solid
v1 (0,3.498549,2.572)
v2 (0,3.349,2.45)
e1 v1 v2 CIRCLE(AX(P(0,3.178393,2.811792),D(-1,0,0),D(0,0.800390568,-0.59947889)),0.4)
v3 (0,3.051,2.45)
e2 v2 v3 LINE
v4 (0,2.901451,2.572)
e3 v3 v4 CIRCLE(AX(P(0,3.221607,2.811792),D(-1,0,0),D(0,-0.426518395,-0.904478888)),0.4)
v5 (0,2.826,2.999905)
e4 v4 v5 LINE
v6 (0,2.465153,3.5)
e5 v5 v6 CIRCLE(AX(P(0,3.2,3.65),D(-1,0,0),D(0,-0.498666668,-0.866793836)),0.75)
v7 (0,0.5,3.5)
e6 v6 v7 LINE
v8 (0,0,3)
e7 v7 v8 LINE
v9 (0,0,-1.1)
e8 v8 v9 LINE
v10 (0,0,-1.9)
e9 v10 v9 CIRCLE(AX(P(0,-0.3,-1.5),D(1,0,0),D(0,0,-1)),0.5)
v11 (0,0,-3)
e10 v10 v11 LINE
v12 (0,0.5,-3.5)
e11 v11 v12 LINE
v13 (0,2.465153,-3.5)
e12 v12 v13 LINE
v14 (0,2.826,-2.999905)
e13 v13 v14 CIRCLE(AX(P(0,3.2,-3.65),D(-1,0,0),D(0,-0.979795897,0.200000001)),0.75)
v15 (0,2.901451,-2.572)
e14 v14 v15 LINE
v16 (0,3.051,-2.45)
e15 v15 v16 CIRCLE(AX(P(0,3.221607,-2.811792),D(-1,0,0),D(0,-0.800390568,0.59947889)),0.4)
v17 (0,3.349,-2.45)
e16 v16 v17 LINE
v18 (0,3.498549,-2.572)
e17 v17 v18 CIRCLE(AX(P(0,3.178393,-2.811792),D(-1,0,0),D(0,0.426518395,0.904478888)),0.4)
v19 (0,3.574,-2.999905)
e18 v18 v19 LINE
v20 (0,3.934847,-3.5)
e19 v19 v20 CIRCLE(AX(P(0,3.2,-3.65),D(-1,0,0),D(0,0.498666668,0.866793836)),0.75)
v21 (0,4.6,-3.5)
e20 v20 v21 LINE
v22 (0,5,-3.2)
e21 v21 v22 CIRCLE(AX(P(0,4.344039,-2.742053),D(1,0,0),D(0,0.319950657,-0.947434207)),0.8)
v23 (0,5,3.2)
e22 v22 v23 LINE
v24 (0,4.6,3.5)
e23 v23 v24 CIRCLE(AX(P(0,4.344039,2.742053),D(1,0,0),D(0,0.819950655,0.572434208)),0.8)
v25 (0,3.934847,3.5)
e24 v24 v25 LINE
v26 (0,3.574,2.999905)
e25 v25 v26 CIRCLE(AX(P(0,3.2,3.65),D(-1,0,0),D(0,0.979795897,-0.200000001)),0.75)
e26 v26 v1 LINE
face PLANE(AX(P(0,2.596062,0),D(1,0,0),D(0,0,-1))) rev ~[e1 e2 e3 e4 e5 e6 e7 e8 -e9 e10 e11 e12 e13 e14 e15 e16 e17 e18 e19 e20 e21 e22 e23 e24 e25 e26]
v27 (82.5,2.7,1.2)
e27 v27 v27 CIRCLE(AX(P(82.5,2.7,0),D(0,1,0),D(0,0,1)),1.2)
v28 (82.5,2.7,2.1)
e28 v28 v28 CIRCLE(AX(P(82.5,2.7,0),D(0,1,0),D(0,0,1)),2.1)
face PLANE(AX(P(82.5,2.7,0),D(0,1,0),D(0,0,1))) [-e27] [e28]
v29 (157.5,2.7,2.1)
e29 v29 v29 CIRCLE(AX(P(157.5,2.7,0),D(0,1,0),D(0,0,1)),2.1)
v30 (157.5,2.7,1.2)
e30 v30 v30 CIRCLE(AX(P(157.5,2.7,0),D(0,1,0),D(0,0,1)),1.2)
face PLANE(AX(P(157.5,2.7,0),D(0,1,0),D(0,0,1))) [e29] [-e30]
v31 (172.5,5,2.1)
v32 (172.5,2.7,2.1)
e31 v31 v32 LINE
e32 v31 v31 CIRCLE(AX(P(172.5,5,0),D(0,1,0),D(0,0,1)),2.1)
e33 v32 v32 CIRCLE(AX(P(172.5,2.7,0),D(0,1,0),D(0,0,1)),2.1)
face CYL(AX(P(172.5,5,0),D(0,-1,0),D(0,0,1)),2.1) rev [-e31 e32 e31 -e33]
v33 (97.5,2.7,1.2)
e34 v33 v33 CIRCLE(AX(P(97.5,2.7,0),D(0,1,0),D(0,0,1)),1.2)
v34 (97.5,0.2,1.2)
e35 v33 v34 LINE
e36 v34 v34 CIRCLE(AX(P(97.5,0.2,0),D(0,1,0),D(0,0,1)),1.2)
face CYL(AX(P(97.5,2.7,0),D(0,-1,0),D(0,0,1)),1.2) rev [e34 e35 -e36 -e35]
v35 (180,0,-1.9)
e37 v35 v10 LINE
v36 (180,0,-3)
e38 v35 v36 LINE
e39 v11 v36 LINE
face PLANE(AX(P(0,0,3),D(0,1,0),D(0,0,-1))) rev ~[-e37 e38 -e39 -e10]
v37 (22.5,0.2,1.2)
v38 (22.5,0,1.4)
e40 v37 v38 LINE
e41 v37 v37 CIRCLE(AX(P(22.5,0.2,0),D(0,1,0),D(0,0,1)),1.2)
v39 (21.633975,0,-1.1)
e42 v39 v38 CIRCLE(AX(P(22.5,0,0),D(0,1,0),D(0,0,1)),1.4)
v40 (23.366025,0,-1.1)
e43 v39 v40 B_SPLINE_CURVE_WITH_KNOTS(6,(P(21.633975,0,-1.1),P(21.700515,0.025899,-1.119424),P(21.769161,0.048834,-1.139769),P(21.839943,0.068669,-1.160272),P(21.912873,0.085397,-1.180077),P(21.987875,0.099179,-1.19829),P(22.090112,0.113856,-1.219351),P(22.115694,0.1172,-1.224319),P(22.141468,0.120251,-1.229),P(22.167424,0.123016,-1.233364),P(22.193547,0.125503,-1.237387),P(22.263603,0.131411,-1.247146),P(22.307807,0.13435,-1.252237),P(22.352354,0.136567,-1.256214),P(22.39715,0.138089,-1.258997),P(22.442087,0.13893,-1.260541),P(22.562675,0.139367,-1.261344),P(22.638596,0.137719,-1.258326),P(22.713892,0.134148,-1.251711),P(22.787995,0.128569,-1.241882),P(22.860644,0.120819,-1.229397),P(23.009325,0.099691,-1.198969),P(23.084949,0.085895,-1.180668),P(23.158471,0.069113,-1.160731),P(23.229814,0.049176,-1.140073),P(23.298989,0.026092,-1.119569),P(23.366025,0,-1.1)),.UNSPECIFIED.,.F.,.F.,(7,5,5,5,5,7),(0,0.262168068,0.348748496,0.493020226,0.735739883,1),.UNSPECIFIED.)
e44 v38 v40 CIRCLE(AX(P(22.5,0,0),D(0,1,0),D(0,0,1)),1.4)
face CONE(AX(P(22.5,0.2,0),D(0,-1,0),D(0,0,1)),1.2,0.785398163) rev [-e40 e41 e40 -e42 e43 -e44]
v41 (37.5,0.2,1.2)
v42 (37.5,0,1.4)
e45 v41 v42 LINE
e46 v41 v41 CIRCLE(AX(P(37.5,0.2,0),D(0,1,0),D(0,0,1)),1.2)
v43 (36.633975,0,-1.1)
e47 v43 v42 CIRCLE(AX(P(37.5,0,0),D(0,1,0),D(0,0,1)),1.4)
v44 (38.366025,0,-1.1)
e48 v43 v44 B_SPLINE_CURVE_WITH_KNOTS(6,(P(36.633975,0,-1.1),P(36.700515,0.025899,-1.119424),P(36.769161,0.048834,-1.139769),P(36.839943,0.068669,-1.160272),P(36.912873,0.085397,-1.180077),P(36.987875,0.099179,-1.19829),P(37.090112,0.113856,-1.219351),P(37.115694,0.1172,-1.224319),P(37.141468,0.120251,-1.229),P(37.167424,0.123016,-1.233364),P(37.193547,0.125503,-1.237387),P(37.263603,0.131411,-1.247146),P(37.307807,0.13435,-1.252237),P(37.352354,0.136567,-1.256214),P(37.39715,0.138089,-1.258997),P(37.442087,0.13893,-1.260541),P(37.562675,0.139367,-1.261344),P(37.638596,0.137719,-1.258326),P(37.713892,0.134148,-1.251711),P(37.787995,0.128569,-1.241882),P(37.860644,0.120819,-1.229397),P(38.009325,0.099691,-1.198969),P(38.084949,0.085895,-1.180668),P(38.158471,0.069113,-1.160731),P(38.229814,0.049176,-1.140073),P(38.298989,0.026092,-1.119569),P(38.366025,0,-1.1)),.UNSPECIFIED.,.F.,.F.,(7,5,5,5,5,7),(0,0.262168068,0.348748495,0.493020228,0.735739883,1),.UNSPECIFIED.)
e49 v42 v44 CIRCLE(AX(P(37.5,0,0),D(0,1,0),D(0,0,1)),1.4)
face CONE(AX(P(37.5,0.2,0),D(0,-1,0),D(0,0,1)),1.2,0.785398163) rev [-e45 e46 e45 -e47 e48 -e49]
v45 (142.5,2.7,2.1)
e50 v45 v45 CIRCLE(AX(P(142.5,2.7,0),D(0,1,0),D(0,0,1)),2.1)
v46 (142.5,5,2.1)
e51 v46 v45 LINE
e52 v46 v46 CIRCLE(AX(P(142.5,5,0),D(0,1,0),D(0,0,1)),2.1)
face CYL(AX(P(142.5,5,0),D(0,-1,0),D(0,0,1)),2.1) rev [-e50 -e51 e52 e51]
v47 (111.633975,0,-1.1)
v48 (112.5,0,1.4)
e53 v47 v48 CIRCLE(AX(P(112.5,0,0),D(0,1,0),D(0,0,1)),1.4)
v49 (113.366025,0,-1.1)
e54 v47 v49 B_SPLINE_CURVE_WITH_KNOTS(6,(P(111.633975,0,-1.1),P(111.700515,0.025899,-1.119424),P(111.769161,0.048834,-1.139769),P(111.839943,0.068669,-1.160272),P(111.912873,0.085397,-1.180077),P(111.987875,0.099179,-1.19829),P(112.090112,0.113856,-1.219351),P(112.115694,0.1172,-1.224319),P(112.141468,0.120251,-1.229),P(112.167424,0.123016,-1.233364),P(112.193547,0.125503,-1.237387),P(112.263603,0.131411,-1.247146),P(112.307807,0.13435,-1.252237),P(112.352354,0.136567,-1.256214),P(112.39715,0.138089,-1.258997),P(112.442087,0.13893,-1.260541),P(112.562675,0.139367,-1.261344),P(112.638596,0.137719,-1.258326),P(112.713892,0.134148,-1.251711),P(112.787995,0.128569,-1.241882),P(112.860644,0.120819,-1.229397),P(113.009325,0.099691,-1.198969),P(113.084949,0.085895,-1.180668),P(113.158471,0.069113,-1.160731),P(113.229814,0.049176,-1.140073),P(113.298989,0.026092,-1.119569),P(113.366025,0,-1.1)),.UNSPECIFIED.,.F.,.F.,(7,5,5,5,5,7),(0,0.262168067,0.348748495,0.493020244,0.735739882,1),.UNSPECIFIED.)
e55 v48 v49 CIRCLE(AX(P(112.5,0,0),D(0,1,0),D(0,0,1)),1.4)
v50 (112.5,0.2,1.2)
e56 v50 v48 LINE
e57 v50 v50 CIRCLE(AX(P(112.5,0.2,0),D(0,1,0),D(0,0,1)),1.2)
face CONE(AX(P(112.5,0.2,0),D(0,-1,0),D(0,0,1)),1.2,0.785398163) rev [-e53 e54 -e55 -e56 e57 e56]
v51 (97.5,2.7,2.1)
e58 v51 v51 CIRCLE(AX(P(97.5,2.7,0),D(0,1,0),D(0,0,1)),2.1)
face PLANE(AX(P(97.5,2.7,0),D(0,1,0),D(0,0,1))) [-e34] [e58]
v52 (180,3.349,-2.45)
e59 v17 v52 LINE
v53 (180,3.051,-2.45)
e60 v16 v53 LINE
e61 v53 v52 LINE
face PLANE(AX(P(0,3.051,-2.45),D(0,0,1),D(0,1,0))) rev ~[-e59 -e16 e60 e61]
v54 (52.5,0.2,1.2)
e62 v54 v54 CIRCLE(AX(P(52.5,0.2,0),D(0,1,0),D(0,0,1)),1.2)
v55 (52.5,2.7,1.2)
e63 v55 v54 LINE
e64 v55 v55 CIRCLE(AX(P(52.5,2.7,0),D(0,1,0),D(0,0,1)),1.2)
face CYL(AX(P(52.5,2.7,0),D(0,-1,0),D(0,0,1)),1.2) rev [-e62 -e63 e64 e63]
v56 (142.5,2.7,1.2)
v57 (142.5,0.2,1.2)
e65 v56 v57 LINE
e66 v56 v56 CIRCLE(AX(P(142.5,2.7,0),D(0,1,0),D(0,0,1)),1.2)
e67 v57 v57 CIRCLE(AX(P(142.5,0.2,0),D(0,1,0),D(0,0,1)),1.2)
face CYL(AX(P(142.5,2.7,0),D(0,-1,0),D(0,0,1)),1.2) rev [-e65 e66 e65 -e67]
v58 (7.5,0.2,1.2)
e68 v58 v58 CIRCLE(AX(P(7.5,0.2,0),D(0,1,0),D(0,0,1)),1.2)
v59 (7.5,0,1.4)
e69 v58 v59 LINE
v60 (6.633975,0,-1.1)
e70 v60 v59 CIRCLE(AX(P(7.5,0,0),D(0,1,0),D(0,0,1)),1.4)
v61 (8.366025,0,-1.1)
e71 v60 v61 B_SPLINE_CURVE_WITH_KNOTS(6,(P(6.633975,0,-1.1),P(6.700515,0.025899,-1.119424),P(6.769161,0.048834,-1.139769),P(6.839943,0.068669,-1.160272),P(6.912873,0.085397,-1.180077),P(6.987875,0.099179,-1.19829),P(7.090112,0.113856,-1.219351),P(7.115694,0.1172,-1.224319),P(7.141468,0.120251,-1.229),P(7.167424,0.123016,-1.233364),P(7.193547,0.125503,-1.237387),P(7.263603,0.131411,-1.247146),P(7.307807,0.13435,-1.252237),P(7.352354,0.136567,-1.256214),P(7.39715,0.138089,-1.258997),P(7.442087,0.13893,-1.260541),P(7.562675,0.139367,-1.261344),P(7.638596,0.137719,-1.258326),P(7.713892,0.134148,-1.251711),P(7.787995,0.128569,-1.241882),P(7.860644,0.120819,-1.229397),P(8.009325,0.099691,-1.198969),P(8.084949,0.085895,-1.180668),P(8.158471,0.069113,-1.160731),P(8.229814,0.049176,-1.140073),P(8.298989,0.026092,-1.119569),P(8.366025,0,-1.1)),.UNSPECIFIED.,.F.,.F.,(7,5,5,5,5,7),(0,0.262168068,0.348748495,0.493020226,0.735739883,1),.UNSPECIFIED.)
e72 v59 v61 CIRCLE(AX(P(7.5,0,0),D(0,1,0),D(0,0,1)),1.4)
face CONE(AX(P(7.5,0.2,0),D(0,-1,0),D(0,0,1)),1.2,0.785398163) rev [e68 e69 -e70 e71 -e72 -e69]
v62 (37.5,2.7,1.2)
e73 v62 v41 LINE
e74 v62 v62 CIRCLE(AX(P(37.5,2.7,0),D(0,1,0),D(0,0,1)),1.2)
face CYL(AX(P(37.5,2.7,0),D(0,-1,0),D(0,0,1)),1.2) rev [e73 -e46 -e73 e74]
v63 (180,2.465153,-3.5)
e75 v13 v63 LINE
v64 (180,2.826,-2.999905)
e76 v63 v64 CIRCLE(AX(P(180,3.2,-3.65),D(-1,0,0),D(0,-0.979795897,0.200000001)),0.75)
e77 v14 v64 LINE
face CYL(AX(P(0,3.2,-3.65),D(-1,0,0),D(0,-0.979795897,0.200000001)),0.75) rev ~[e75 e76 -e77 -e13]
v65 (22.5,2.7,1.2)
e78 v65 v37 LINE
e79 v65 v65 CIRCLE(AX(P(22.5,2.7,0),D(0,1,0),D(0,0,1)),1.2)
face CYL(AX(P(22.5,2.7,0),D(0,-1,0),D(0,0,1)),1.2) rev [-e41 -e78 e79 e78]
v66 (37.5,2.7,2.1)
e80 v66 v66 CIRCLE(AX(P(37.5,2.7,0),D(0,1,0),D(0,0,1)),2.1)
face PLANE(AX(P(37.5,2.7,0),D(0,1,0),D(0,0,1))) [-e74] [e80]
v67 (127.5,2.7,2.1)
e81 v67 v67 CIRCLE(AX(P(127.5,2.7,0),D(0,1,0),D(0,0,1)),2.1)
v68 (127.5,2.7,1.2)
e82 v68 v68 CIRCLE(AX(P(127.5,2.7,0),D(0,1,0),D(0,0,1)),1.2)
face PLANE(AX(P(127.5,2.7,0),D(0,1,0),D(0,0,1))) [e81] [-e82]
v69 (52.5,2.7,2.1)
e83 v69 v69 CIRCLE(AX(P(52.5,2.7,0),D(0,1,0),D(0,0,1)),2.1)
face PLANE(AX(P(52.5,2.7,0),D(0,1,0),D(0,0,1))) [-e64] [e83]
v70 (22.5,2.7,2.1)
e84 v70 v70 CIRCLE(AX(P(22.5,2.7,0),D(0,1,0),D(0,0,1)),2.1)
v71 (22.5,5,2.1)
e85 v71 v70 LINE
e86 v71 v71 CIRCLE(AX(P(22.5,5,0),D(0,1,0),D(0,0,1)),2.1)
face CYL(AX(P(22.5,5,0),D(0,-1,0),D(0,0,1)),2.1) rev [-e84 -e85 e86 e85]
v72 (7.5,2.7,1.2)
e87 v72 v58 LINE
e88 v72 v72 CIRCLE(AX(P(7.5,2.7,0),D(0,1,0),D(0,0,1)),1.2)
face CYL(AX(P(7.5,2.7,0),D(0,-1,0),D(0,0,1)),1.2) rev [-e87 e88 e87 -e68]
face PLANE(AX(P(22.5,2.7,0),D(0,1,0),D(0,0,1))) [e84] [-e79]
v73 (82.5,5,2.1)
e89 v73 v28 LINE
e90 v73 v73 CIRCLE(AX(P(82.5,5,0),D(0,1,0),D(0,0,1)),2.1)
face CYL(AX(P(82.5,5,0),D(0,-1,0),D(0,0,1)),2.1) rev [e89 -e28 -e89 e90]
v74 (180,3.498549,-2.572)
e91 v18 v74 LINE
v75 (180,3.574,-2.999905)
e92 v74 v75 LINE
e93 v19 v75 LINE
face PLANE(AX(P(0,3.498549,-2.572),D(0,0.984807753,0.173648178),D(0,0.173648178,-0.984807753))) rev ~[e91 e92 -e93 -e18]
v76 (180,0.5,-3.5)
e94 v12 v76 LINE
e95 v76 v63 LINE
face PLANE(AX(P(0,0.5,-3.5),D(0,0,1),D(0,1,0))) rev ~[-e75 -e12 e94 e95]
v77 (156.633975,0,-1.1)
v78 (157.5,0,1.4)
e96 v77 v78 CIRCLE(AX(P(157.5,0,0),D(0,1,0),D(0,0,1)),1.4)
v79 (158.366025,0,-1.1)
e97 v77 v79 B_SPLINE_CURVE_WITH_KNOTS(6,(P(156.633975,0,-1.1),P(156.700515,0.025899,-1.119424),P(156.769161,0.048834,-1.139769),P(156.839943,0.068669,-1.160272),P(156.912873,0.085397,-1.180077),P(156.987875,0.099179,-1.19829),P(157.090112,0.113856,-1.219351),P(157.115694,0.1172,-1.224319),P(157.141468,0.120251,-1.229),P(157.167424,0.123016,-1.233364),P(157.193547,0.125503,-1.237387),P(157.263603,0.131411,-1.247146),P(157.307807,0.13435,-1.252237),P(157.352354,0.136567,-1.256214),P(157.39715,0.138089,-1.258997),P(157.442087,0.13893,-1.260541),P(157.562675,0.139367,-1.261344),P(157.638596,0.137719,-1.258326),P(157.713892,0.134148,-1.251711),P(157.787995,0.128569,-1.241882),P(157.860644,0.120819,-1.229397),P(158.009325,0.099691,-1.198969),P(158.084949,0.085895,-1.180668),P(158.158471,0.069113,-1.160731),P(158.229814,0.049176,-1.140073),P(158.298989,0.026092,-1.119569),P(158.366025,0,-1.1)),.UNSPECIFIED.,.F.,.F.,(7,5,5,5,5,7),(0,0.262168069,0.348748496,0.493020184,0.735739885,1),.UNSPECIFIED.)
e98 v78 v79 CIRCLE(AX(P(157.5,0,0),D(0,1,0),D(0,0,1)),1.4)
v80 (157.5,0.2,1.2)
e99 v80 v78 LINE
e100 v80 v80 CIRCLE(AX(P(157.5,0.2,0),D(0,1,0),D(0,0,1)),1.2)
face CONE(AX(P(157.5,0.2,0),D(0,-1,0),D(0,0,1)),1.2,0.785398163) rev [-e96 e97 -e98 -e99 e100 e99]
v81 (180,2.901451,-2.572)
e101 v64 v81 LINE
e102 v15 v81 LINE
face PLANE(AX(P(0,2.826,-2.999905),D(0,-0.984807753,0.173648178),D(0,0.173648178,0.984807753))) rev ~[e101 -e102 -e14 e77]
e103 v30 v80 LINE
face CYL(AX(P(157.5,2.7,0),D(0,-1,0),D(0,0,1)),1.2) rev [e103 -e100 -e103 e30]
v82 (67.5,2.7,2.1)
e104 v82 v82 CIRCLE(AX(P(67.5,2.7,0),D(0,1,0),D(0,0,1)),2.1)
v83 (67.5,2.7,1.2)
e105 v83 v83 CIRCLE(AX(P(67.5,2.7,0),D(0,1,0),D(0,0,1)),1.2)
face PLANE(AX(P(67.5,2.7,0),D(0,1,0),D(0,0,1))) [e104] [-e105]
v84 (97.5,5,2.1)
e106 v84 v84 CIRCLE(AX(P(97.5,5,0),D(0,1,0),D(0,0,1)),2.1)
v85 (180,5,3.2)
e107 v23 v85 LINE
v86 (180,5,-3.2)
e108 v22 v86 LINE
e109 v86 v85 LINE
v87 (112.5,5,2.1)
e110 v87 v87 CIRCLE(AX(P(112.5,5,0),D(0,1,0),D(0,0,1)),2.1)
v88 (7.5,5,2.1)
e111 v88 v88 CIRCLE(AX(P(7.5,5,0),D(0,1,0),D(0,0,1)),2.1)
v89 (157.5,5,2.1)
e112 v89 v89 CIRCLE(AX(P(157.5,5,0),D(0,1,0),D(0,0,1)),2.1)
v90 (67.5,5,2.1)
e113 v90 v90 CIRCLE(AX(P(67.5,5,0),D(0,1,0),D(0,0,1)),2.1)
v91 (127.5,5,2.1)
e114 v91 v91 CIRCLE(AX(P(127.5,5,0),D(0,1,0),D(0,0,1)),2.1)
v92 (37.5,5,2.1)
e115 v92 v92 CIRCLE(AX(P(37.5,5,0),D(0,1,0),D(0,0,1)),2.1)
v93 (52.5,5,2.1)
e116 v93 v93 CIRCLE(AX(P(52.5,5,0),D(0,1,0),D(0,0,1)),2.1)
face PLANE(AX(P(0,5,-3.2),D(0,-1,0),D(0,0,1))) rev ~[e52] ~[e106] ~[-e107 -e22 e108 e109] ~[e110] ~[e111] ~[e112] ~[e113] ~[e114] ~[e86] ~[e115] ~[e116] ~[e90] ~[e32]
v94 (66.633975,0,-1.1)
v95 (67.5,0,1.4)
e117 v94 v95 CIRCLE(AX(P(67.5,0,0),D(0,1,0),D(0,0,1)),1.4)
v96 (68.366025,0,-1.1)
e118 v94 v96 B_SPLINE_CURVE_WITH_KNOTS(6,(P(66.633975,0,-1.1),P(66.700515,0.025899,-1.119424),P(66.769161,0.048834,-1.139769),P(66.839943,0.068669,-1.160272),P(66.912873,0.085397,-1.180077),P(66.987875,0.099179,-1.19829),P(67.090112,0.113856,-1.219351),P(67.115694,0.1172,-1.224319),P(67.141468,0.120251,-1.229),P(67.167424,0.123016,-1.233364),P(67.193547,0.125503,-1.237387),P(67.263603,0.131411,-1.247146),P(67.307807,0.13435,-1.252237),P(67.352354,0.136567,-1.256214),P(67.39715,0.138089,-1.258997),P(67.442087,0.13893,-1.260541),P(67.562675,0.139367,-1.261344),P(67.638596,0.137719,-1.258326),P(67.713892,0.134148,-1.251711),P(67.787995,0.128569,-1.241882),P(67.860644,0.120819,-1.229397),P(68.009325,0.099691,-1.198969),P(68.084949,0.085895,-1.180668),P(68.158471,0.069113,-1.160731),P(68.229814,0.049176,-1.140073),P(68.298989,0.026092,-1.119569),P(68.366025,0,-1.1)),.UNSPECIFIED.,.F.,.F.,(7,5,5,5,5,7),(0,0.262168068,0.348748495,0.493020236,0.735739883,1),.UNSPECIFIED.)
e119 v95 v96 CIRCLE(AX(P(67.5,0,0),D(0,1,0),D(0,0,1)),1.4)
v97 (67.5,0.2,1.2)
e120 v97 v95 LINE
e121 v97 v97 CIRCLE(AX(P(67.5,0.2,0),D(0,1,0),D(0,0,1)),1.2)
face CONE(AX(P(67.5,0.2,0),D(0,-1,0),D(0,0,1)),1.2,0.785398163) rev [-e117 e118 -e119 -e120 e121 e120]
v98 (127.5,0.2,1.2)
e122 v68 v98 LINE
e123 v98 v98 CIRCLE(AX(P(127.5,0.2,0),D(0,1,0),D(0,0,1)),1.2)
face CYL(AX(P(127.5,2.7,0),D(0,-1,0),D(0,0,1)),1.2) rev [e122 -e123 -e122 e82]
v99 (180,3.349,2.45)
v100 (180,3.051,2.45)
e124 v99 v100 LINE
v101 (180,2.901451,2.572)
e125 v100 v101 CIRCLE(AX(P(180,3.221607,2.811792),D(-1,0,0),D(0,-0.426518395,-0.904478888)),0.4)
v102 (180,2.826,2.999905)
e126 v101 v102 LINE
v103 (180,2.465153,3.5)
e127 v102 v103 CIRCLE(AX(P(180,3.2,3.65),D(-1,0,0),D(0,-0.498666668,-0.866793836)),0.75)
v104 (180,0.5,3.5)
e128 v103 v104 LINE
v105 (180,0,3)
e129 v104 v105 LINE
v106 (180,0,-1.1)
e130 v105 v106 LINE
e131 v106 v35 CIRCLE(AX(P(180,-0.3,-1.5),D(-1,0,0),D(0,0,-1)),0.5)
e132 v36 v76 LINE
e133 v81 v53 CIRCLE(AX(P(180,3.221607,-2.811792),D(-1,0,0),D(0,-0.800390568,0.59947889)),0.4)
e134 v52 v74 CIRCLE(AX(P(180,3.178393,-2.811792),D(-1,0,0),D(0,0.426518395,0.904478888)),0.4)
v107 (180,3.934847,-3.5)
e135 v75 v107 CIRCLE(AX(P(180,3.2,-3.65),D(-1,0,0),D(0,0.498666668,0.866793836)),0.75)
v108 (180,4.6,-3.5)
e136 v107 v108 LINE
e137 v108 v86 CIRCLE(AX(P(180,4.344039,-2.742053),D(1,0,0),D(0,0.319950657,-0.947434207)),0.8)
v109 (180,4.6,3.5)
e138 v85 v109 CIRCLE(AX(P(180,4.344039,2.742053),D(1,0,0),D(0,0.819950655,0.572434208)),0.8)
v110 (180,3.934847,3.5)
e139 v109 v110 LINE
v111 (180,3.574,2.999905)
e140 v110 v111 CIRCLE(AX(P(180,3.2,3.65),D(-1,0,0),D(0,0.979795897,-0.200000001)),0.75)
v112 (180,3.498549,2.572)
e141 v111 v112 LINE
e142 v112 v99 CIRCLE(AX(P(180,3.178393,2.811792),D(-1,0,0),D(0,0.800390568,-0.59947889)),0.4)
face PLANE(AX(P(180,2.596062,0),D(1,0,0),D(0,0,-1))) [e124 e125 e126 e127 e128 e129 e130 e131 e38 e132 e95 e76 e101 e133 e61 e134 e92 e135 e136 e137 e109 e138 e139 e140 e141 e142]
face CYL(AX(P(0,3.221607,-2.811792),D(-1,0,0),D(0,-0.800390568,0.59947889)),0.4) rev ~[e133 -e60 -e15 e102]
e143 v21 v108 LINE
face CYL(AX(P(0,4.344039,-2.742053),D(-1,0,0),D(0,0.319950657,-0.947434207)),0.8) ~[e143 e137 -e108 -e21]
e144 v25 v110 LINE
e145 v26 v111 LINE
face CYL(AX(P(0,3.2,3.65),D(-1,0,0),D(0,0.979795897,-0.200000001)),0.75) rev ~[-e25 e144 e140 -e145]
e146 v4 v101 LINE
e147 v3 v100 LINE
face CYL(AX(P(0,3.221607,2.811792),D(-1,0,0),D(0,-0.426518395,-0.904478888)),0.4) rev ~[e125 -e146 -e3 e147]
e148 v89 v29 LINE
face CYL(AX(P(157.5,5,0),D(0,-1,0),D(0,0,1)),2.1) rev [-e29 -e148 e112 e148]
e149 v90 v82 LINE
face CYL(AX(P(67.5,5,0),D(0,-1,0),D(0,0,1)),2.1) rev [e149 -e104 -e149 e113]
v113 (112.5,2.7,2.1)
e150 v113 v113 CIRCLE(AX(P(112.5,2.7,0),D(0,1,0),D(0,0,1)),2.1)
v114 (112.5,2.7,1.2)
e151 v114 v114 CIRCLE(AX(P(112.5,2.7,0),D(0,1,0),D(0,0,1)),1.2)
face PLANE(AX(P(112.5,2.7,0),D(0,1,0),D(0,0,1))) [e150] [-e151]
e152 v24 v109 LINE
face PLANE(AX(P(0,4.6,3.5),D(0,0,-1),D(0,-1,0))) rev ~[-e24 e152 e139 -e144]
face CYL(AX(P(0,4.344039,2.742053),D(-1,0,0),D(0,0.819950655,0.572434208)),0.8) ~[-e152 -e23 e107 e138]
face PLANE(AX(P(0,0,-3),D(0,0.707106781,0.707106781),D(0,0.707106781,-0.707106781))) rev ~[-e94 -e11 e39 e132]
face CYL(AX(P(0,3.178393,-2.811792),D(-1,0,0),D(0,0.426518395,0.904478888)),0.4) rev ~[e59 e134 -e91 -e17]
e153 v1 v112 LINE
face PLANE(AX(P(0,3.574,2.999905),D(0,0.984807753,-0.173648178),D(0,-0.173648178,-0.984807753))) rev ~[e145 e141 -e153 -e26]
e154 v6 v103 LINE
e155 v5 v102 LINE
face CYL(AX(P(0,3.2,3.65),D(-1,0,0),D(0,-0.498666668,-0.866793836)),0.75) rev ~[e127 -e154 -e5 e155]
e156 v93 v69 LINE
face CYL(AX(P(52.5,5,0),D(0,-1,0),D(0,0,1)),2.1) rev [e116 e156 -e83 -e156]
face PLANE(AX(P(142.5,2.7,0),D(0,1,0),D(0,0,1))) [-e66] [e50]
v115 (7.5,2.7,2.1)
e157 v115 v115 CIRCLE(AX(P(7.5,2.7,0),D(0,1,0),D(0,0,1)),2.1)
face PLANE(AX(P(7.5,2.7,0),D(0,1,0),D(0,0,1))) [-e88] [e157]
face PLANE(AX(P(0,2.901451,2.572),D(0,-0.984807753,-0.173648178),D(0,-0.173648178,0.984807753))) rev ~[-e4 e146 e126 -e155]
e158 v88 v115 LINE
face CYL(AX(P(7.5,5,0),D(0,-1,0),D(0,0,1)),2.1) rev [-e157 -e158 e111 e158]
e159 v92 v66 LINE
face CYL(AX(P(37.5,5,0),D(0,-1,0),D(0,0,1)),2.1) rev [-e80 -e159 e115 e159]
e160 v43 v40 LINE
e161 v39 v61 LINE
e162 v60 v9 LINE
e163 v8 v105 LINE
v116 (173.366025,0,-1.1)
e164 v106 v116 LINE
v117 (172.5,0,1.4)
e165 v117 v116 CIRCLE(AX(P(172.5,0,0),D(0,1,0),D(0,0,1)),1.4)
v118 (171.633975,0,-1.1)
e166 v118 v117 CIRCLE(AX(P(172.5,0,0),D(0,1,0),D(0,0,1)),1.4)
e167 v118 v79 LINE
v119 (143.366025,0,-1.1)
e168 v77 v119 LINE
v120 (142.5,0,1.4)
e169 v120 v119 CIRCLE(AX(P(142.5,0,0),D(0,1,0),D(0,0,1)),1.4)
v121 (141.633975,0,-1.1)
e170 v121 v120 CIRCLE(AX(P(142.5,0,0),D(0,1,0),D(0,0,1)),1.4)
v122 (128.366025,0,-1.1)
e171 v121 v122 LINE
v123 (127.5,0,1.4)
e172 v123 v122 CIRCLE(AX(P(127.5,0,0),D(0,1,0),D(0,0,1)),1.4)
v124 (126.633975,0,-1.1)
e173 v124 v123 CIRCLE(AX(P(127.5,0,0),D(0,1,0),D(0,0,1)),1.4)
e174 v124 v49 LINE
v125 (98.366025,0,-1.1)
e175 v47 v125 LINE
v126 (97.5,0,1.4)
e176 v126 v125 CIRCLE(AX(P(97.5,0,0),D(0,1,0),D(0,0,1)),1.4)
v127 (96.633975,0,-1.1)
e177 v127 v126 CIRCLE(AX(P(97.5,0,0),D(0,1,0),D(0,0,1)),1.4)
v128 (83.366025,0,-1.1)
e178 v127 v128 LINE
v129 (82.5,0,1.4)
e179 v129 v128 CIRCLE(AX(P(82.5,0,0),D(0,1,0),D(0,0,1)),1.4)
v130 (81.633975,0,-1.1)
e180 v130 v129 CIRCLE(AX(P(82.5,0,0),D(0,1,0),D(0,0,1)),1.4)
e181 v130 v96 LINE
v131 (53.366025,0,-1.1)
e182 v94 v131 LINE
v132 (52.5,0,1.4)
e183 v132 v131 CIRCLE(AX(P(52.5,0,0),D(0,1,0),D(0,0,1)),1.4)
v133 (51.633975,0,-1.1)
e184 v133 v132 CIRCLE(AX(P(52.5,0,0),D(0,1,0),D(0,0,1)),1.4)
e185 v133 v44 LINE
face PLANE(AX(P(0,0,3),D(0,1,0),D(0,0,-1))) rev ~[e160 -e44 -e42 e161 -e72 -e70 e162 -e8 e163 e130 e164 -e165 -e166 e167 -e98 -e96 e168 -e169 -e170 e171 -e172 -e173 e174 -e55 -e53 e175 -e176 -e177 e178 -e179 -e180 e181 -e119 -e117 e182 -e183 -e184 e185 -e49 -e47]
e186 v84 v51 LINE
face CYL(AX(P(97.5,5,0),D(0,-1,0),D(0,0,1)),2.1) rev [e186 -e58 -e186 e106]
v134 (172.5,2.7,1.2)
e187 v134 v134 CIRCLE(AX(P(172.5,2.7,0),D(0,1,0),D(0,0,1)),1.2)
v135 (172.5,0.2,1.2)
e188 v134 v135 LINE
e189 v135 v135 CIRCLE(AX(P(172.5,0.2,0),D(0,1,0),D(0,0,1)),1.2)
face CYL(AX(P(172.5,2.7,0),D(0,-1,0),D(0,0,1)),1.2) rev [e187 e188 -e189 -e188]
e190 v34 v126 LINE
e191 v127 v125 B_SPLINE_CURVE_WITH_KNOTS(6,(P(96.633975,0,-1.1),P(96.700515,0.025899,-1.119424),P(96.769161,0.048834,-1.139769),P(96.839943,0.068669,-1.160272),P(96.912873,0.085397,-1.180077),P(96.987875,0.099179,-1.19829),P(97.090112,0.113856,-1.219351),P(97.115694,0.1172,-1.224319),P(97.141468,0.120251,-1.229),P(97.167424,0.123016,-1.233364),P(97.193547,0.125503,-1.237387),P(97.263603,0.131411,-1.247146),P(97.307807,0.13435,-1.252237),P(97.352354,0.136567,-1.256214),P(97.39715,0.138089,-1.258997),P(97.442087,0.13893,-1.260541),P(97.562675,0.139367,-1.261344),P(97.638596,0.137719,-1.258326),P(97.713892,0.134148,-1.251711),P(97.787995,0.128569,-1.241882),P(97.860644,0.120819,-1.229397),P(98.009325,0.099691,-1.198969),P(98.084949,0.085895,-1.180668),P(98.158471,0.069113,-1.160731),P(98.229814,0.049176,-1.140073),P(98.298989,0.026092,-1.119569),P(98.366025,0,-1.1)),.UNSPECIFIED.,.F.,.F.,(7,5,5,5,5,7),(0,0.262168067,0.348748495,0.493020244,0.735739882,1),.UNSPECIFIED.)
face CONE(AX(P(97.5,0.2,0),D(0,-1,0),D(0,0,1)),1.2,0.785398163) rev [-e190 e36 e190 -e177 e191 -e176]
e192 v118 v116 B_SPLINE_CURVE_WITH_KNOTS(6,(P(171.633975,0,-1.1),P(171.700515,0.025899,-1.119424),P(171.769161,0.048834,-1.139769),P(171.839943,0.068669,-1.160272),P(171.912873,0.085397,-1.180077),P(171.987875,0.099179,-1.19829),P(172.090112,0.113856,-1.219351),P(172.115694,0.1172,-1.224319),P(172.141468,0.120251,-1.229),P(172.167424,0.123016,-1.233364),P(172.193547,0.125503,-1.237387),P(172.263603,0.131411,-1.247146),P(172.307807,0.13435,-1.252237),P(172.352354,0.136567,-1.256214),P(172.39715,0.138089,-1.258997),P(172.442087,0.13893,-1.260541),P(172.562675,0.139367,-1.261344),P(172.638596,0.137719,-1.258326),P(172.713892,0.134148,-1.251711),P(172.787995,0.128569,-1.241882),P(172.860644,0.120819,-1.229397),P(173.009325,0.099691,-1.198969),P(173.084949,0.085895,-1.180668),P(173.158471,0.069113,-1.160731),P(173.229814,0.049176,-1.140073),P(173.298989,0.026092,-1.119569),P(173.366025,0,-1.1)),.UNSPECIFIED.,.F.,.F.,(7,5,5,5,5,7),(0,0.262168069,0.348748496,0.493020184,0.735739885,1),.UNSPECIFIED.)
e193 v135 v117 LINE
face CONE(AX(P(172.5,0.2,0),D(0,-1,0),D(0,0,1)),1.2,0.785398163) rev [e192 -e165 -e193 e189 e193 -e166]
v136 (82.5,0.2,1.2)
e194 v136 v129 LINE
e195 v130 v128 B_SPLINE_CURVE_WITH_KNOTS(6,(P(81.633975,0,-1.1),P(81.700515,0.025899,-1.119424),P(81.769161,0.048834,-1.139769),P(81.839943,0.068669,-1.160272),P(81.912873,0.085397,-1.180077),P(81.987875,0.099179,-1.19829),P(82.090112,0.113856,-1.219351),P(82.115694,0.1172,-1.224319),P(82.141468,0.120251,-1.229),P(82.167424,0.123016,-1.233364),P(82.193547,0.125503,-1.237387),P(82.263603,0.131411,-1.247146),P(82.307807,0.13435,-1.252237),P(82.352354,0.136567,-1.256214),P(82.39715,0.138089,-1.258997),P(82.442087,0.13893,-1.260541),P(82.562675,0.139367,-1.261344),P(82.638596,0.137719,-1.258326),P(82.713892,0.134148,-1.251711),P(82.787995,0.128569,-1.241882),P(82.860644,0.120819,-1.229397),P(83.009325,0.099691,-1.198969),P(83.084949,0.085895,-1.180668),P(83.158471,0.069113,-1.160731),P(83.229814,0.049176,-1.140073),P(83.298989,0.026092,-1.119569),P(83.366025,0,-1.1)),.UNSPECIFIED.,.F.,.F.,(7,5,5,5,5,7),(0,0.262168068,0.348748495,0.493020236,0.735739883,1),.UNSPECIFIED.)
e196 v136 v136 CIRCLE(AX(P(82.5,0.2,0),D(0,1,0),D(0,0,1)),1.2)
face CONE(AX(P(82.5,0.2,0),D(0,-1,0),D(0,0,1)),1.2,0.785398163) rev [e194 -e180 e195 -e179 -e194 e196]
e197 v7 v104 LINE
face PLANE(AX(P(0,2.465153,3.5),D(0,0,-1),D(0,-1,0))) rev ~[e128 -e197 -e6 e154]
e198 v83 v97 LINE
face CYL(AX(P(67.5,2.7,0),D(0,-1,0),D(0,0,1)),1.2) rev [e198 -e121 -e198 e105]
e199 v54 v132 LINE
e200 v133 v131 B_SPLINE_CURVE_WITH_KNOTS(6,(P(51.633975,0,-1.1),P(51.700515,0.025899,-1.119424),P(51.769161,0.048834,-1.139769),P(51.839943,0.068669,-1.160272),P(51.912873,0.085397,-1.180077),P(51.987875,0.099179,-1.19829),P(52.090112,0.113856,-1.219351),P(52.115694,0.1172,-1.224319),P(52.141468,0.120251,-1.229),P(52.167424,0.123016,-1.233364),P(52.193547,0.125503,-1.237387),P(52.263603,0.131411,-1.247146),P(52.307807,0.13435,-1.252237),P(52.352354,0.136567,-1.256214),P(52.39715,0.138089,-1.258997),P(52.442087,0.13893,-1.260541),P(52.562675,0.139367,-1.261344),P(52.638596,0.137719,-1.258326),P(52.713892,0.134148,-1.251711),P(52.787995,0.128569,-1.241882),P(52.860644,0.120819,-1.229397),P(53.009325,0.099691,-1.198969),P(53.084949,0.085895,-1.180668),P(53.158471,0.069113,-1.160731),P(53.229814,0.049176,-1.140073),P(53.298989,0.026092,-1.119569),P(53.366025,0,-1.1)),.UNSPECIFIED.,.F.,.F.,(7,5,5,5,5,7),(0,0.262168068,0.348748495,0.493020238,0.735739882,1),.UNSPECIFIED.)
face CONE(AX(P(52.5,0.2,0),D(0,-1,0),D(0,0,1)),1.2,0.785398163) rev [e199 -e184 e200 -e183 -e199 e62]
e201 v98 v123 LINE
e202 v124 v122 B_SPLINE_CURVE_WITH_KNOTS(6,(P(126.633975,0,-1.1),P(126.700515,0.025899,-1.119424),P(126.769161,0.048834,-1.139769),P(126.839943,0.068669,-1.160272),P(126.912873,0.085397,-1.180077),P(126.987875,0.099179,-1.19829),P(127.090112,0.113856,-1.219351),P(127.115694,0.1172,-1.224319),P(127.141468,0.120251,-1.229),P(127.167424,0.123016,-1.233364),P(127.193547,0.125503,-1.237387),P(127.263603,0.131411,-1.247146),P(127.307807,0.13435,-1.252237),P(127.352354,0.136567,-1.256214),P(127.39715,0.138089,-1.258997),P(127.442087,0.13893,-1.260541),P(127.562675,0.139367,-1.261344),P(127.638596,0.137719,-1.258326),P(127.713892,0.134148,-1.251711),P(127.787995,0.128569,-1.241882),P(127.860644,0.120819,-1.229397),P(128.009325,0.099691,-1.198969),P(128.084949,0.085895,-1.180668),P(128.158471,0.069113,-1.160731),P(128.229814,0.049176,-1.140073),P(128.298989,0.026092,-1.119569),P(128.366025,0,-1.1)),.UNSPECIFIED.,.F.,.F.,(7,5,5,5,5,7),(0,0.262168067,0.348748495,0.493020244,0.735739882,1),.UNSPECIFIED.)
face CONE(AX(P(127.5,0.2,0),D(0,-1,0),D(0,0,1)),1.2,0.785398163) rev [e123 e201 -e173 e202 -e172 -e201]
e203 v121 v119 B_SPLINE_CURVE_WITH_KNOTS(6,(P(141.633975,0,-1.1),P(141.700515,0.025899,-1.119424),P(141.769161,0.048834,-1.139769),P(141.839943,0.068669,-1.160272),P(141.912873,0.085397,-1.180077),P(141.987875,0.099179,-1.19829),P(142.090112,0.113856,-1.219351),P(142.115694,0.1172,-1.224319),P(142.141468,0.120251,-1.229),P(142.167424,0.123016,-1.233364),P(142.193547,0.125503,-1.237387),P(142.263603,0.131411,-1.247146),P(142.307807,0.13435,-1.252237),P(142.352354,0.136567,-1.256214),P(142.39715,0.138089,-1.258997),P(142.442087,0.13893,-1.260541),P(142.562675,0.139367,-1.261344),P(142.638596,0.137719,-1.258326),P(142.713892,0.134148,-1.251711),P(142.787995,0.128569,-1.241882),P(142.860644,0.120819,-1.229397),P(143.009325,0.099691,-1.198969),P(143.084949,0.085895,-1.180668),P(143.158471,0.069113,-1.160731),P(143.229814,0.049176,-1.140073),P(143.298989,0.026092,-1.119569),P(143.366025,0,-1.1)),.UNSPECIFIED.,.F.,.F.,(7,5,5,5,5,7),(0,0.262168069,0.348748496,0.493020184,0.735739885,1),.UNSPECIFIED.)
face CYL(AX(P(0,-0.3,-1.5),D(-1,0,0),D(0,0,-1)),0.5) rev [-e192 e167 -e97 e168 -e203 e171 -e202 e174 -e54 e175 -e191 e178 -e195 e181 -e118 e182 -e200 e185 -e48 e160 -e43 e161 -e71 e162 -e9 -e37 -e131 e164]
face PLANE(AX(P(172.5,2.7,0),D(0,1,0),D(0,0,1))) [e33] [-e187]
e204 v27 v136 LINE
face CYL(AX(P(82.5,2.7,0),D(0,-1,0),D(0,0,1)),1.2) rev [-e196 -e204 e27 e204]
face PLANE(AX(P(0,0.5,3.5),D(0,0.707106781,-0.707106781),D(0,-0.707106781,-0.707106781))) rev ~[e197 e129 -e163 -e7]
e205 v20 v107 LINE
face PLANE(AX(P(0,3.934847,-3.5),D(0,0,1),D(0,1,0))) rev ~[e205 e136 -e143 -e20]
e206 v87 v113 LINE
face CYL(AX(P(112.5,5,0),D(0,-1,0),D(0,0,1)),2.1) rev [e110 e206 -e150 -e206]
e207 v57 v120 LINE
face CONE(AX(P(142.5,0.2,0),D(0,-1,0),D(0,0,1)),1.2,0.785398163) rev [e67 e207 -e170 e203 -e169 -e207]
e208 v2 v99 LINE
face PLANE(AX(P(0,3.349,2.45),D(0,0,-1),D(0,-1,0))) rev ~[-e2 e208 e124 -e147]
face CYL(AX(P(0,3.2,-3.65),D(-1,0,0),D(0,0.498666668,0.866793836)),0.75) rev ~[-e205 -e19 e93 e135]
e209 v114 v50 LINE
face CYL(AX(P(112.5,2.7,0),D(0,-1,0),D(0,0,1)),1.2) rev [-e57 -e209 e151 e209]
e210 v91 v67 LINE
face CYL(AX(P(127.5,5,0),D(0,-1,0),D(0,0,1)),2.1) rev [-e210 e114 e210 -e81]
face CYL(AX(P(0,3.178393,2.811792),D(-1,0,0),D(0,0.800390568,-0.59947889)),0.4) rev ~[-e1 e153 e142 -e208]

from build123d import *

# Parameters (mm, degrees)
EXTRUDE1_DEPTH  = 180
SKETCH6_R       = 0.5
EXTRUDE2_DEPTH  = 181.103442499
LPATTERN1_COUNT = 11
LPATTERN1_PITCH = 15


with BuildPart() as part:
    # Sketch1 → Extrude1 (new body)
    with BuildSketch(Plane(origin=(0, 0, 0), x_dir=(0, 0, -1), z_dir=(1, 0, 0))):
        with BuildLine():
            Line((-3.5, 0.5), (-3, 0))
            Line((-3, 0), (3, 0))
            Line((3, 0), (3.5, 0.5))
            Line((3.5, 0.5), (3.5, 2.465153077))
            ThreePointArc((3.5, 2.465153077), (3.211148341, 2.591798371), (2.999904622, 2.826))
            Line((2.999904622, 2.826), (2.572, 2.90145113))
            ThreePointArc((2.572, 2.90145113), (2.501845147, 2.968757157), (2.45, 3.051))
            Line((2.45, 3.051), (2.45, 3.349))
            ThreePointArc((2.45, 3.349), (2.501845147, 3.431242843), (2.572, 3.49854887))
            Line((2.572, 3.49854887), (2.999904622, 3.574))
            ThreePointArc((2.999904622, 3.574), (3.211148341, 3.808201629), (3.5, 3.934846923))
            Line((3.5, 3.934846923), (3.5, 4.6))
            ThreePointArc((3.5, 4.6), (3.382052634, 4.824039475), (3.2, 5))
            Line((3.2, 5), (-3.2, 5))
            ThreePointArc((-3.2, 5), (-3.382052634, 4.824039475), (-3.5, 4.6))
            Line((-3.5, 4.6), (-3.5, 3.934846923))
            ThreePointArc((-3.5, 3.934846923), (-3.211148341, 3.808201629), (-2.999904622, 3.574))
            Line((-2.999904622, 3.574), (-2.572, 3.49854887))
            ThreePointArc((-2.572, 3.49854887), (-2.501845147, 3.431242843), (-2.45, 3.349))
            Line((-2.45, 3.349), (-2.45, 3.051))
            ThreePointArc((-2.45, 3.051), (-2.501845147, 2.968757157), (-2.572, 2.90145113))
            Line((-2.572, 2.90145113), (-2.999904622, 2.826))
            ThreePointArc((-2.999904622, 2.826), (-3.211148341, 2.591798371), (-3.5, 2.465153077))
            Line((-3.5, 2.465153077), (-3.5, 0.5))
        make_face()
    extrude(amount=EXTRUDE1_DEPTH)

    # Sketch2 → Cut-Revolve1 (revolve, cut)
    with BuildSketch(Plane(origin=(0, 0, 0), x_dir=(-1, 0, 0), z_dir=(0, 0, -1))):
        Polygon((-7.5, 5), (-5.4, 5), (-5.4, 2.7), (-6.3, 2.7), (-6.3, 0.2), (-6.1, 0), (-7.5, 0), align=None)
    revolve(axis=Axis((7.5, 0, 0), (0, 1, 0)), mode=Mode.SUBTRACT)

    # Sketch3 → Cut-Revolve2 (revolve, cut)
    with BuildSketch(Plane(origin=(45, 0, 0), x_dir=(-1, 0, 0), z_dir=(0, 0, -1))):
        Polygon((-127.5, 5), (-125.4, 5), (-125.4, 2.7), (-126.3, 2.7), (-126.3, 0.2), (-126.1, 0), (-127.5, 0), align=None)
    cut_revolve2 = revolve(axis=Axis((172.5, 0, 0), (0, 1, 0)), mode=Mode.SUBTRACT)

    # Sketch6 → Extrude2 (cut, through all)
    with BuildSketch(Plane(origin=(0, 0, 0), x_dir=(0, 0, -1), z_dir=(1, 0, 0))):
        with Locations((1.5, -0.3)):
            Circle(SKETCH6_R)
    extrude(amount=EXTRUDE2_DEPTH, mode=Mode.SUBTRACT)

    # LPattern1: Cut-Revolve2 ×11
    with Locations(*[(-i * LPATTERN1_PITCH, 0, 0) for i in range(1, LPATTERN1_COUNT)]):
        add(cut_revolve2, mode=Mode.SUBTRACT)


solid = part.part
